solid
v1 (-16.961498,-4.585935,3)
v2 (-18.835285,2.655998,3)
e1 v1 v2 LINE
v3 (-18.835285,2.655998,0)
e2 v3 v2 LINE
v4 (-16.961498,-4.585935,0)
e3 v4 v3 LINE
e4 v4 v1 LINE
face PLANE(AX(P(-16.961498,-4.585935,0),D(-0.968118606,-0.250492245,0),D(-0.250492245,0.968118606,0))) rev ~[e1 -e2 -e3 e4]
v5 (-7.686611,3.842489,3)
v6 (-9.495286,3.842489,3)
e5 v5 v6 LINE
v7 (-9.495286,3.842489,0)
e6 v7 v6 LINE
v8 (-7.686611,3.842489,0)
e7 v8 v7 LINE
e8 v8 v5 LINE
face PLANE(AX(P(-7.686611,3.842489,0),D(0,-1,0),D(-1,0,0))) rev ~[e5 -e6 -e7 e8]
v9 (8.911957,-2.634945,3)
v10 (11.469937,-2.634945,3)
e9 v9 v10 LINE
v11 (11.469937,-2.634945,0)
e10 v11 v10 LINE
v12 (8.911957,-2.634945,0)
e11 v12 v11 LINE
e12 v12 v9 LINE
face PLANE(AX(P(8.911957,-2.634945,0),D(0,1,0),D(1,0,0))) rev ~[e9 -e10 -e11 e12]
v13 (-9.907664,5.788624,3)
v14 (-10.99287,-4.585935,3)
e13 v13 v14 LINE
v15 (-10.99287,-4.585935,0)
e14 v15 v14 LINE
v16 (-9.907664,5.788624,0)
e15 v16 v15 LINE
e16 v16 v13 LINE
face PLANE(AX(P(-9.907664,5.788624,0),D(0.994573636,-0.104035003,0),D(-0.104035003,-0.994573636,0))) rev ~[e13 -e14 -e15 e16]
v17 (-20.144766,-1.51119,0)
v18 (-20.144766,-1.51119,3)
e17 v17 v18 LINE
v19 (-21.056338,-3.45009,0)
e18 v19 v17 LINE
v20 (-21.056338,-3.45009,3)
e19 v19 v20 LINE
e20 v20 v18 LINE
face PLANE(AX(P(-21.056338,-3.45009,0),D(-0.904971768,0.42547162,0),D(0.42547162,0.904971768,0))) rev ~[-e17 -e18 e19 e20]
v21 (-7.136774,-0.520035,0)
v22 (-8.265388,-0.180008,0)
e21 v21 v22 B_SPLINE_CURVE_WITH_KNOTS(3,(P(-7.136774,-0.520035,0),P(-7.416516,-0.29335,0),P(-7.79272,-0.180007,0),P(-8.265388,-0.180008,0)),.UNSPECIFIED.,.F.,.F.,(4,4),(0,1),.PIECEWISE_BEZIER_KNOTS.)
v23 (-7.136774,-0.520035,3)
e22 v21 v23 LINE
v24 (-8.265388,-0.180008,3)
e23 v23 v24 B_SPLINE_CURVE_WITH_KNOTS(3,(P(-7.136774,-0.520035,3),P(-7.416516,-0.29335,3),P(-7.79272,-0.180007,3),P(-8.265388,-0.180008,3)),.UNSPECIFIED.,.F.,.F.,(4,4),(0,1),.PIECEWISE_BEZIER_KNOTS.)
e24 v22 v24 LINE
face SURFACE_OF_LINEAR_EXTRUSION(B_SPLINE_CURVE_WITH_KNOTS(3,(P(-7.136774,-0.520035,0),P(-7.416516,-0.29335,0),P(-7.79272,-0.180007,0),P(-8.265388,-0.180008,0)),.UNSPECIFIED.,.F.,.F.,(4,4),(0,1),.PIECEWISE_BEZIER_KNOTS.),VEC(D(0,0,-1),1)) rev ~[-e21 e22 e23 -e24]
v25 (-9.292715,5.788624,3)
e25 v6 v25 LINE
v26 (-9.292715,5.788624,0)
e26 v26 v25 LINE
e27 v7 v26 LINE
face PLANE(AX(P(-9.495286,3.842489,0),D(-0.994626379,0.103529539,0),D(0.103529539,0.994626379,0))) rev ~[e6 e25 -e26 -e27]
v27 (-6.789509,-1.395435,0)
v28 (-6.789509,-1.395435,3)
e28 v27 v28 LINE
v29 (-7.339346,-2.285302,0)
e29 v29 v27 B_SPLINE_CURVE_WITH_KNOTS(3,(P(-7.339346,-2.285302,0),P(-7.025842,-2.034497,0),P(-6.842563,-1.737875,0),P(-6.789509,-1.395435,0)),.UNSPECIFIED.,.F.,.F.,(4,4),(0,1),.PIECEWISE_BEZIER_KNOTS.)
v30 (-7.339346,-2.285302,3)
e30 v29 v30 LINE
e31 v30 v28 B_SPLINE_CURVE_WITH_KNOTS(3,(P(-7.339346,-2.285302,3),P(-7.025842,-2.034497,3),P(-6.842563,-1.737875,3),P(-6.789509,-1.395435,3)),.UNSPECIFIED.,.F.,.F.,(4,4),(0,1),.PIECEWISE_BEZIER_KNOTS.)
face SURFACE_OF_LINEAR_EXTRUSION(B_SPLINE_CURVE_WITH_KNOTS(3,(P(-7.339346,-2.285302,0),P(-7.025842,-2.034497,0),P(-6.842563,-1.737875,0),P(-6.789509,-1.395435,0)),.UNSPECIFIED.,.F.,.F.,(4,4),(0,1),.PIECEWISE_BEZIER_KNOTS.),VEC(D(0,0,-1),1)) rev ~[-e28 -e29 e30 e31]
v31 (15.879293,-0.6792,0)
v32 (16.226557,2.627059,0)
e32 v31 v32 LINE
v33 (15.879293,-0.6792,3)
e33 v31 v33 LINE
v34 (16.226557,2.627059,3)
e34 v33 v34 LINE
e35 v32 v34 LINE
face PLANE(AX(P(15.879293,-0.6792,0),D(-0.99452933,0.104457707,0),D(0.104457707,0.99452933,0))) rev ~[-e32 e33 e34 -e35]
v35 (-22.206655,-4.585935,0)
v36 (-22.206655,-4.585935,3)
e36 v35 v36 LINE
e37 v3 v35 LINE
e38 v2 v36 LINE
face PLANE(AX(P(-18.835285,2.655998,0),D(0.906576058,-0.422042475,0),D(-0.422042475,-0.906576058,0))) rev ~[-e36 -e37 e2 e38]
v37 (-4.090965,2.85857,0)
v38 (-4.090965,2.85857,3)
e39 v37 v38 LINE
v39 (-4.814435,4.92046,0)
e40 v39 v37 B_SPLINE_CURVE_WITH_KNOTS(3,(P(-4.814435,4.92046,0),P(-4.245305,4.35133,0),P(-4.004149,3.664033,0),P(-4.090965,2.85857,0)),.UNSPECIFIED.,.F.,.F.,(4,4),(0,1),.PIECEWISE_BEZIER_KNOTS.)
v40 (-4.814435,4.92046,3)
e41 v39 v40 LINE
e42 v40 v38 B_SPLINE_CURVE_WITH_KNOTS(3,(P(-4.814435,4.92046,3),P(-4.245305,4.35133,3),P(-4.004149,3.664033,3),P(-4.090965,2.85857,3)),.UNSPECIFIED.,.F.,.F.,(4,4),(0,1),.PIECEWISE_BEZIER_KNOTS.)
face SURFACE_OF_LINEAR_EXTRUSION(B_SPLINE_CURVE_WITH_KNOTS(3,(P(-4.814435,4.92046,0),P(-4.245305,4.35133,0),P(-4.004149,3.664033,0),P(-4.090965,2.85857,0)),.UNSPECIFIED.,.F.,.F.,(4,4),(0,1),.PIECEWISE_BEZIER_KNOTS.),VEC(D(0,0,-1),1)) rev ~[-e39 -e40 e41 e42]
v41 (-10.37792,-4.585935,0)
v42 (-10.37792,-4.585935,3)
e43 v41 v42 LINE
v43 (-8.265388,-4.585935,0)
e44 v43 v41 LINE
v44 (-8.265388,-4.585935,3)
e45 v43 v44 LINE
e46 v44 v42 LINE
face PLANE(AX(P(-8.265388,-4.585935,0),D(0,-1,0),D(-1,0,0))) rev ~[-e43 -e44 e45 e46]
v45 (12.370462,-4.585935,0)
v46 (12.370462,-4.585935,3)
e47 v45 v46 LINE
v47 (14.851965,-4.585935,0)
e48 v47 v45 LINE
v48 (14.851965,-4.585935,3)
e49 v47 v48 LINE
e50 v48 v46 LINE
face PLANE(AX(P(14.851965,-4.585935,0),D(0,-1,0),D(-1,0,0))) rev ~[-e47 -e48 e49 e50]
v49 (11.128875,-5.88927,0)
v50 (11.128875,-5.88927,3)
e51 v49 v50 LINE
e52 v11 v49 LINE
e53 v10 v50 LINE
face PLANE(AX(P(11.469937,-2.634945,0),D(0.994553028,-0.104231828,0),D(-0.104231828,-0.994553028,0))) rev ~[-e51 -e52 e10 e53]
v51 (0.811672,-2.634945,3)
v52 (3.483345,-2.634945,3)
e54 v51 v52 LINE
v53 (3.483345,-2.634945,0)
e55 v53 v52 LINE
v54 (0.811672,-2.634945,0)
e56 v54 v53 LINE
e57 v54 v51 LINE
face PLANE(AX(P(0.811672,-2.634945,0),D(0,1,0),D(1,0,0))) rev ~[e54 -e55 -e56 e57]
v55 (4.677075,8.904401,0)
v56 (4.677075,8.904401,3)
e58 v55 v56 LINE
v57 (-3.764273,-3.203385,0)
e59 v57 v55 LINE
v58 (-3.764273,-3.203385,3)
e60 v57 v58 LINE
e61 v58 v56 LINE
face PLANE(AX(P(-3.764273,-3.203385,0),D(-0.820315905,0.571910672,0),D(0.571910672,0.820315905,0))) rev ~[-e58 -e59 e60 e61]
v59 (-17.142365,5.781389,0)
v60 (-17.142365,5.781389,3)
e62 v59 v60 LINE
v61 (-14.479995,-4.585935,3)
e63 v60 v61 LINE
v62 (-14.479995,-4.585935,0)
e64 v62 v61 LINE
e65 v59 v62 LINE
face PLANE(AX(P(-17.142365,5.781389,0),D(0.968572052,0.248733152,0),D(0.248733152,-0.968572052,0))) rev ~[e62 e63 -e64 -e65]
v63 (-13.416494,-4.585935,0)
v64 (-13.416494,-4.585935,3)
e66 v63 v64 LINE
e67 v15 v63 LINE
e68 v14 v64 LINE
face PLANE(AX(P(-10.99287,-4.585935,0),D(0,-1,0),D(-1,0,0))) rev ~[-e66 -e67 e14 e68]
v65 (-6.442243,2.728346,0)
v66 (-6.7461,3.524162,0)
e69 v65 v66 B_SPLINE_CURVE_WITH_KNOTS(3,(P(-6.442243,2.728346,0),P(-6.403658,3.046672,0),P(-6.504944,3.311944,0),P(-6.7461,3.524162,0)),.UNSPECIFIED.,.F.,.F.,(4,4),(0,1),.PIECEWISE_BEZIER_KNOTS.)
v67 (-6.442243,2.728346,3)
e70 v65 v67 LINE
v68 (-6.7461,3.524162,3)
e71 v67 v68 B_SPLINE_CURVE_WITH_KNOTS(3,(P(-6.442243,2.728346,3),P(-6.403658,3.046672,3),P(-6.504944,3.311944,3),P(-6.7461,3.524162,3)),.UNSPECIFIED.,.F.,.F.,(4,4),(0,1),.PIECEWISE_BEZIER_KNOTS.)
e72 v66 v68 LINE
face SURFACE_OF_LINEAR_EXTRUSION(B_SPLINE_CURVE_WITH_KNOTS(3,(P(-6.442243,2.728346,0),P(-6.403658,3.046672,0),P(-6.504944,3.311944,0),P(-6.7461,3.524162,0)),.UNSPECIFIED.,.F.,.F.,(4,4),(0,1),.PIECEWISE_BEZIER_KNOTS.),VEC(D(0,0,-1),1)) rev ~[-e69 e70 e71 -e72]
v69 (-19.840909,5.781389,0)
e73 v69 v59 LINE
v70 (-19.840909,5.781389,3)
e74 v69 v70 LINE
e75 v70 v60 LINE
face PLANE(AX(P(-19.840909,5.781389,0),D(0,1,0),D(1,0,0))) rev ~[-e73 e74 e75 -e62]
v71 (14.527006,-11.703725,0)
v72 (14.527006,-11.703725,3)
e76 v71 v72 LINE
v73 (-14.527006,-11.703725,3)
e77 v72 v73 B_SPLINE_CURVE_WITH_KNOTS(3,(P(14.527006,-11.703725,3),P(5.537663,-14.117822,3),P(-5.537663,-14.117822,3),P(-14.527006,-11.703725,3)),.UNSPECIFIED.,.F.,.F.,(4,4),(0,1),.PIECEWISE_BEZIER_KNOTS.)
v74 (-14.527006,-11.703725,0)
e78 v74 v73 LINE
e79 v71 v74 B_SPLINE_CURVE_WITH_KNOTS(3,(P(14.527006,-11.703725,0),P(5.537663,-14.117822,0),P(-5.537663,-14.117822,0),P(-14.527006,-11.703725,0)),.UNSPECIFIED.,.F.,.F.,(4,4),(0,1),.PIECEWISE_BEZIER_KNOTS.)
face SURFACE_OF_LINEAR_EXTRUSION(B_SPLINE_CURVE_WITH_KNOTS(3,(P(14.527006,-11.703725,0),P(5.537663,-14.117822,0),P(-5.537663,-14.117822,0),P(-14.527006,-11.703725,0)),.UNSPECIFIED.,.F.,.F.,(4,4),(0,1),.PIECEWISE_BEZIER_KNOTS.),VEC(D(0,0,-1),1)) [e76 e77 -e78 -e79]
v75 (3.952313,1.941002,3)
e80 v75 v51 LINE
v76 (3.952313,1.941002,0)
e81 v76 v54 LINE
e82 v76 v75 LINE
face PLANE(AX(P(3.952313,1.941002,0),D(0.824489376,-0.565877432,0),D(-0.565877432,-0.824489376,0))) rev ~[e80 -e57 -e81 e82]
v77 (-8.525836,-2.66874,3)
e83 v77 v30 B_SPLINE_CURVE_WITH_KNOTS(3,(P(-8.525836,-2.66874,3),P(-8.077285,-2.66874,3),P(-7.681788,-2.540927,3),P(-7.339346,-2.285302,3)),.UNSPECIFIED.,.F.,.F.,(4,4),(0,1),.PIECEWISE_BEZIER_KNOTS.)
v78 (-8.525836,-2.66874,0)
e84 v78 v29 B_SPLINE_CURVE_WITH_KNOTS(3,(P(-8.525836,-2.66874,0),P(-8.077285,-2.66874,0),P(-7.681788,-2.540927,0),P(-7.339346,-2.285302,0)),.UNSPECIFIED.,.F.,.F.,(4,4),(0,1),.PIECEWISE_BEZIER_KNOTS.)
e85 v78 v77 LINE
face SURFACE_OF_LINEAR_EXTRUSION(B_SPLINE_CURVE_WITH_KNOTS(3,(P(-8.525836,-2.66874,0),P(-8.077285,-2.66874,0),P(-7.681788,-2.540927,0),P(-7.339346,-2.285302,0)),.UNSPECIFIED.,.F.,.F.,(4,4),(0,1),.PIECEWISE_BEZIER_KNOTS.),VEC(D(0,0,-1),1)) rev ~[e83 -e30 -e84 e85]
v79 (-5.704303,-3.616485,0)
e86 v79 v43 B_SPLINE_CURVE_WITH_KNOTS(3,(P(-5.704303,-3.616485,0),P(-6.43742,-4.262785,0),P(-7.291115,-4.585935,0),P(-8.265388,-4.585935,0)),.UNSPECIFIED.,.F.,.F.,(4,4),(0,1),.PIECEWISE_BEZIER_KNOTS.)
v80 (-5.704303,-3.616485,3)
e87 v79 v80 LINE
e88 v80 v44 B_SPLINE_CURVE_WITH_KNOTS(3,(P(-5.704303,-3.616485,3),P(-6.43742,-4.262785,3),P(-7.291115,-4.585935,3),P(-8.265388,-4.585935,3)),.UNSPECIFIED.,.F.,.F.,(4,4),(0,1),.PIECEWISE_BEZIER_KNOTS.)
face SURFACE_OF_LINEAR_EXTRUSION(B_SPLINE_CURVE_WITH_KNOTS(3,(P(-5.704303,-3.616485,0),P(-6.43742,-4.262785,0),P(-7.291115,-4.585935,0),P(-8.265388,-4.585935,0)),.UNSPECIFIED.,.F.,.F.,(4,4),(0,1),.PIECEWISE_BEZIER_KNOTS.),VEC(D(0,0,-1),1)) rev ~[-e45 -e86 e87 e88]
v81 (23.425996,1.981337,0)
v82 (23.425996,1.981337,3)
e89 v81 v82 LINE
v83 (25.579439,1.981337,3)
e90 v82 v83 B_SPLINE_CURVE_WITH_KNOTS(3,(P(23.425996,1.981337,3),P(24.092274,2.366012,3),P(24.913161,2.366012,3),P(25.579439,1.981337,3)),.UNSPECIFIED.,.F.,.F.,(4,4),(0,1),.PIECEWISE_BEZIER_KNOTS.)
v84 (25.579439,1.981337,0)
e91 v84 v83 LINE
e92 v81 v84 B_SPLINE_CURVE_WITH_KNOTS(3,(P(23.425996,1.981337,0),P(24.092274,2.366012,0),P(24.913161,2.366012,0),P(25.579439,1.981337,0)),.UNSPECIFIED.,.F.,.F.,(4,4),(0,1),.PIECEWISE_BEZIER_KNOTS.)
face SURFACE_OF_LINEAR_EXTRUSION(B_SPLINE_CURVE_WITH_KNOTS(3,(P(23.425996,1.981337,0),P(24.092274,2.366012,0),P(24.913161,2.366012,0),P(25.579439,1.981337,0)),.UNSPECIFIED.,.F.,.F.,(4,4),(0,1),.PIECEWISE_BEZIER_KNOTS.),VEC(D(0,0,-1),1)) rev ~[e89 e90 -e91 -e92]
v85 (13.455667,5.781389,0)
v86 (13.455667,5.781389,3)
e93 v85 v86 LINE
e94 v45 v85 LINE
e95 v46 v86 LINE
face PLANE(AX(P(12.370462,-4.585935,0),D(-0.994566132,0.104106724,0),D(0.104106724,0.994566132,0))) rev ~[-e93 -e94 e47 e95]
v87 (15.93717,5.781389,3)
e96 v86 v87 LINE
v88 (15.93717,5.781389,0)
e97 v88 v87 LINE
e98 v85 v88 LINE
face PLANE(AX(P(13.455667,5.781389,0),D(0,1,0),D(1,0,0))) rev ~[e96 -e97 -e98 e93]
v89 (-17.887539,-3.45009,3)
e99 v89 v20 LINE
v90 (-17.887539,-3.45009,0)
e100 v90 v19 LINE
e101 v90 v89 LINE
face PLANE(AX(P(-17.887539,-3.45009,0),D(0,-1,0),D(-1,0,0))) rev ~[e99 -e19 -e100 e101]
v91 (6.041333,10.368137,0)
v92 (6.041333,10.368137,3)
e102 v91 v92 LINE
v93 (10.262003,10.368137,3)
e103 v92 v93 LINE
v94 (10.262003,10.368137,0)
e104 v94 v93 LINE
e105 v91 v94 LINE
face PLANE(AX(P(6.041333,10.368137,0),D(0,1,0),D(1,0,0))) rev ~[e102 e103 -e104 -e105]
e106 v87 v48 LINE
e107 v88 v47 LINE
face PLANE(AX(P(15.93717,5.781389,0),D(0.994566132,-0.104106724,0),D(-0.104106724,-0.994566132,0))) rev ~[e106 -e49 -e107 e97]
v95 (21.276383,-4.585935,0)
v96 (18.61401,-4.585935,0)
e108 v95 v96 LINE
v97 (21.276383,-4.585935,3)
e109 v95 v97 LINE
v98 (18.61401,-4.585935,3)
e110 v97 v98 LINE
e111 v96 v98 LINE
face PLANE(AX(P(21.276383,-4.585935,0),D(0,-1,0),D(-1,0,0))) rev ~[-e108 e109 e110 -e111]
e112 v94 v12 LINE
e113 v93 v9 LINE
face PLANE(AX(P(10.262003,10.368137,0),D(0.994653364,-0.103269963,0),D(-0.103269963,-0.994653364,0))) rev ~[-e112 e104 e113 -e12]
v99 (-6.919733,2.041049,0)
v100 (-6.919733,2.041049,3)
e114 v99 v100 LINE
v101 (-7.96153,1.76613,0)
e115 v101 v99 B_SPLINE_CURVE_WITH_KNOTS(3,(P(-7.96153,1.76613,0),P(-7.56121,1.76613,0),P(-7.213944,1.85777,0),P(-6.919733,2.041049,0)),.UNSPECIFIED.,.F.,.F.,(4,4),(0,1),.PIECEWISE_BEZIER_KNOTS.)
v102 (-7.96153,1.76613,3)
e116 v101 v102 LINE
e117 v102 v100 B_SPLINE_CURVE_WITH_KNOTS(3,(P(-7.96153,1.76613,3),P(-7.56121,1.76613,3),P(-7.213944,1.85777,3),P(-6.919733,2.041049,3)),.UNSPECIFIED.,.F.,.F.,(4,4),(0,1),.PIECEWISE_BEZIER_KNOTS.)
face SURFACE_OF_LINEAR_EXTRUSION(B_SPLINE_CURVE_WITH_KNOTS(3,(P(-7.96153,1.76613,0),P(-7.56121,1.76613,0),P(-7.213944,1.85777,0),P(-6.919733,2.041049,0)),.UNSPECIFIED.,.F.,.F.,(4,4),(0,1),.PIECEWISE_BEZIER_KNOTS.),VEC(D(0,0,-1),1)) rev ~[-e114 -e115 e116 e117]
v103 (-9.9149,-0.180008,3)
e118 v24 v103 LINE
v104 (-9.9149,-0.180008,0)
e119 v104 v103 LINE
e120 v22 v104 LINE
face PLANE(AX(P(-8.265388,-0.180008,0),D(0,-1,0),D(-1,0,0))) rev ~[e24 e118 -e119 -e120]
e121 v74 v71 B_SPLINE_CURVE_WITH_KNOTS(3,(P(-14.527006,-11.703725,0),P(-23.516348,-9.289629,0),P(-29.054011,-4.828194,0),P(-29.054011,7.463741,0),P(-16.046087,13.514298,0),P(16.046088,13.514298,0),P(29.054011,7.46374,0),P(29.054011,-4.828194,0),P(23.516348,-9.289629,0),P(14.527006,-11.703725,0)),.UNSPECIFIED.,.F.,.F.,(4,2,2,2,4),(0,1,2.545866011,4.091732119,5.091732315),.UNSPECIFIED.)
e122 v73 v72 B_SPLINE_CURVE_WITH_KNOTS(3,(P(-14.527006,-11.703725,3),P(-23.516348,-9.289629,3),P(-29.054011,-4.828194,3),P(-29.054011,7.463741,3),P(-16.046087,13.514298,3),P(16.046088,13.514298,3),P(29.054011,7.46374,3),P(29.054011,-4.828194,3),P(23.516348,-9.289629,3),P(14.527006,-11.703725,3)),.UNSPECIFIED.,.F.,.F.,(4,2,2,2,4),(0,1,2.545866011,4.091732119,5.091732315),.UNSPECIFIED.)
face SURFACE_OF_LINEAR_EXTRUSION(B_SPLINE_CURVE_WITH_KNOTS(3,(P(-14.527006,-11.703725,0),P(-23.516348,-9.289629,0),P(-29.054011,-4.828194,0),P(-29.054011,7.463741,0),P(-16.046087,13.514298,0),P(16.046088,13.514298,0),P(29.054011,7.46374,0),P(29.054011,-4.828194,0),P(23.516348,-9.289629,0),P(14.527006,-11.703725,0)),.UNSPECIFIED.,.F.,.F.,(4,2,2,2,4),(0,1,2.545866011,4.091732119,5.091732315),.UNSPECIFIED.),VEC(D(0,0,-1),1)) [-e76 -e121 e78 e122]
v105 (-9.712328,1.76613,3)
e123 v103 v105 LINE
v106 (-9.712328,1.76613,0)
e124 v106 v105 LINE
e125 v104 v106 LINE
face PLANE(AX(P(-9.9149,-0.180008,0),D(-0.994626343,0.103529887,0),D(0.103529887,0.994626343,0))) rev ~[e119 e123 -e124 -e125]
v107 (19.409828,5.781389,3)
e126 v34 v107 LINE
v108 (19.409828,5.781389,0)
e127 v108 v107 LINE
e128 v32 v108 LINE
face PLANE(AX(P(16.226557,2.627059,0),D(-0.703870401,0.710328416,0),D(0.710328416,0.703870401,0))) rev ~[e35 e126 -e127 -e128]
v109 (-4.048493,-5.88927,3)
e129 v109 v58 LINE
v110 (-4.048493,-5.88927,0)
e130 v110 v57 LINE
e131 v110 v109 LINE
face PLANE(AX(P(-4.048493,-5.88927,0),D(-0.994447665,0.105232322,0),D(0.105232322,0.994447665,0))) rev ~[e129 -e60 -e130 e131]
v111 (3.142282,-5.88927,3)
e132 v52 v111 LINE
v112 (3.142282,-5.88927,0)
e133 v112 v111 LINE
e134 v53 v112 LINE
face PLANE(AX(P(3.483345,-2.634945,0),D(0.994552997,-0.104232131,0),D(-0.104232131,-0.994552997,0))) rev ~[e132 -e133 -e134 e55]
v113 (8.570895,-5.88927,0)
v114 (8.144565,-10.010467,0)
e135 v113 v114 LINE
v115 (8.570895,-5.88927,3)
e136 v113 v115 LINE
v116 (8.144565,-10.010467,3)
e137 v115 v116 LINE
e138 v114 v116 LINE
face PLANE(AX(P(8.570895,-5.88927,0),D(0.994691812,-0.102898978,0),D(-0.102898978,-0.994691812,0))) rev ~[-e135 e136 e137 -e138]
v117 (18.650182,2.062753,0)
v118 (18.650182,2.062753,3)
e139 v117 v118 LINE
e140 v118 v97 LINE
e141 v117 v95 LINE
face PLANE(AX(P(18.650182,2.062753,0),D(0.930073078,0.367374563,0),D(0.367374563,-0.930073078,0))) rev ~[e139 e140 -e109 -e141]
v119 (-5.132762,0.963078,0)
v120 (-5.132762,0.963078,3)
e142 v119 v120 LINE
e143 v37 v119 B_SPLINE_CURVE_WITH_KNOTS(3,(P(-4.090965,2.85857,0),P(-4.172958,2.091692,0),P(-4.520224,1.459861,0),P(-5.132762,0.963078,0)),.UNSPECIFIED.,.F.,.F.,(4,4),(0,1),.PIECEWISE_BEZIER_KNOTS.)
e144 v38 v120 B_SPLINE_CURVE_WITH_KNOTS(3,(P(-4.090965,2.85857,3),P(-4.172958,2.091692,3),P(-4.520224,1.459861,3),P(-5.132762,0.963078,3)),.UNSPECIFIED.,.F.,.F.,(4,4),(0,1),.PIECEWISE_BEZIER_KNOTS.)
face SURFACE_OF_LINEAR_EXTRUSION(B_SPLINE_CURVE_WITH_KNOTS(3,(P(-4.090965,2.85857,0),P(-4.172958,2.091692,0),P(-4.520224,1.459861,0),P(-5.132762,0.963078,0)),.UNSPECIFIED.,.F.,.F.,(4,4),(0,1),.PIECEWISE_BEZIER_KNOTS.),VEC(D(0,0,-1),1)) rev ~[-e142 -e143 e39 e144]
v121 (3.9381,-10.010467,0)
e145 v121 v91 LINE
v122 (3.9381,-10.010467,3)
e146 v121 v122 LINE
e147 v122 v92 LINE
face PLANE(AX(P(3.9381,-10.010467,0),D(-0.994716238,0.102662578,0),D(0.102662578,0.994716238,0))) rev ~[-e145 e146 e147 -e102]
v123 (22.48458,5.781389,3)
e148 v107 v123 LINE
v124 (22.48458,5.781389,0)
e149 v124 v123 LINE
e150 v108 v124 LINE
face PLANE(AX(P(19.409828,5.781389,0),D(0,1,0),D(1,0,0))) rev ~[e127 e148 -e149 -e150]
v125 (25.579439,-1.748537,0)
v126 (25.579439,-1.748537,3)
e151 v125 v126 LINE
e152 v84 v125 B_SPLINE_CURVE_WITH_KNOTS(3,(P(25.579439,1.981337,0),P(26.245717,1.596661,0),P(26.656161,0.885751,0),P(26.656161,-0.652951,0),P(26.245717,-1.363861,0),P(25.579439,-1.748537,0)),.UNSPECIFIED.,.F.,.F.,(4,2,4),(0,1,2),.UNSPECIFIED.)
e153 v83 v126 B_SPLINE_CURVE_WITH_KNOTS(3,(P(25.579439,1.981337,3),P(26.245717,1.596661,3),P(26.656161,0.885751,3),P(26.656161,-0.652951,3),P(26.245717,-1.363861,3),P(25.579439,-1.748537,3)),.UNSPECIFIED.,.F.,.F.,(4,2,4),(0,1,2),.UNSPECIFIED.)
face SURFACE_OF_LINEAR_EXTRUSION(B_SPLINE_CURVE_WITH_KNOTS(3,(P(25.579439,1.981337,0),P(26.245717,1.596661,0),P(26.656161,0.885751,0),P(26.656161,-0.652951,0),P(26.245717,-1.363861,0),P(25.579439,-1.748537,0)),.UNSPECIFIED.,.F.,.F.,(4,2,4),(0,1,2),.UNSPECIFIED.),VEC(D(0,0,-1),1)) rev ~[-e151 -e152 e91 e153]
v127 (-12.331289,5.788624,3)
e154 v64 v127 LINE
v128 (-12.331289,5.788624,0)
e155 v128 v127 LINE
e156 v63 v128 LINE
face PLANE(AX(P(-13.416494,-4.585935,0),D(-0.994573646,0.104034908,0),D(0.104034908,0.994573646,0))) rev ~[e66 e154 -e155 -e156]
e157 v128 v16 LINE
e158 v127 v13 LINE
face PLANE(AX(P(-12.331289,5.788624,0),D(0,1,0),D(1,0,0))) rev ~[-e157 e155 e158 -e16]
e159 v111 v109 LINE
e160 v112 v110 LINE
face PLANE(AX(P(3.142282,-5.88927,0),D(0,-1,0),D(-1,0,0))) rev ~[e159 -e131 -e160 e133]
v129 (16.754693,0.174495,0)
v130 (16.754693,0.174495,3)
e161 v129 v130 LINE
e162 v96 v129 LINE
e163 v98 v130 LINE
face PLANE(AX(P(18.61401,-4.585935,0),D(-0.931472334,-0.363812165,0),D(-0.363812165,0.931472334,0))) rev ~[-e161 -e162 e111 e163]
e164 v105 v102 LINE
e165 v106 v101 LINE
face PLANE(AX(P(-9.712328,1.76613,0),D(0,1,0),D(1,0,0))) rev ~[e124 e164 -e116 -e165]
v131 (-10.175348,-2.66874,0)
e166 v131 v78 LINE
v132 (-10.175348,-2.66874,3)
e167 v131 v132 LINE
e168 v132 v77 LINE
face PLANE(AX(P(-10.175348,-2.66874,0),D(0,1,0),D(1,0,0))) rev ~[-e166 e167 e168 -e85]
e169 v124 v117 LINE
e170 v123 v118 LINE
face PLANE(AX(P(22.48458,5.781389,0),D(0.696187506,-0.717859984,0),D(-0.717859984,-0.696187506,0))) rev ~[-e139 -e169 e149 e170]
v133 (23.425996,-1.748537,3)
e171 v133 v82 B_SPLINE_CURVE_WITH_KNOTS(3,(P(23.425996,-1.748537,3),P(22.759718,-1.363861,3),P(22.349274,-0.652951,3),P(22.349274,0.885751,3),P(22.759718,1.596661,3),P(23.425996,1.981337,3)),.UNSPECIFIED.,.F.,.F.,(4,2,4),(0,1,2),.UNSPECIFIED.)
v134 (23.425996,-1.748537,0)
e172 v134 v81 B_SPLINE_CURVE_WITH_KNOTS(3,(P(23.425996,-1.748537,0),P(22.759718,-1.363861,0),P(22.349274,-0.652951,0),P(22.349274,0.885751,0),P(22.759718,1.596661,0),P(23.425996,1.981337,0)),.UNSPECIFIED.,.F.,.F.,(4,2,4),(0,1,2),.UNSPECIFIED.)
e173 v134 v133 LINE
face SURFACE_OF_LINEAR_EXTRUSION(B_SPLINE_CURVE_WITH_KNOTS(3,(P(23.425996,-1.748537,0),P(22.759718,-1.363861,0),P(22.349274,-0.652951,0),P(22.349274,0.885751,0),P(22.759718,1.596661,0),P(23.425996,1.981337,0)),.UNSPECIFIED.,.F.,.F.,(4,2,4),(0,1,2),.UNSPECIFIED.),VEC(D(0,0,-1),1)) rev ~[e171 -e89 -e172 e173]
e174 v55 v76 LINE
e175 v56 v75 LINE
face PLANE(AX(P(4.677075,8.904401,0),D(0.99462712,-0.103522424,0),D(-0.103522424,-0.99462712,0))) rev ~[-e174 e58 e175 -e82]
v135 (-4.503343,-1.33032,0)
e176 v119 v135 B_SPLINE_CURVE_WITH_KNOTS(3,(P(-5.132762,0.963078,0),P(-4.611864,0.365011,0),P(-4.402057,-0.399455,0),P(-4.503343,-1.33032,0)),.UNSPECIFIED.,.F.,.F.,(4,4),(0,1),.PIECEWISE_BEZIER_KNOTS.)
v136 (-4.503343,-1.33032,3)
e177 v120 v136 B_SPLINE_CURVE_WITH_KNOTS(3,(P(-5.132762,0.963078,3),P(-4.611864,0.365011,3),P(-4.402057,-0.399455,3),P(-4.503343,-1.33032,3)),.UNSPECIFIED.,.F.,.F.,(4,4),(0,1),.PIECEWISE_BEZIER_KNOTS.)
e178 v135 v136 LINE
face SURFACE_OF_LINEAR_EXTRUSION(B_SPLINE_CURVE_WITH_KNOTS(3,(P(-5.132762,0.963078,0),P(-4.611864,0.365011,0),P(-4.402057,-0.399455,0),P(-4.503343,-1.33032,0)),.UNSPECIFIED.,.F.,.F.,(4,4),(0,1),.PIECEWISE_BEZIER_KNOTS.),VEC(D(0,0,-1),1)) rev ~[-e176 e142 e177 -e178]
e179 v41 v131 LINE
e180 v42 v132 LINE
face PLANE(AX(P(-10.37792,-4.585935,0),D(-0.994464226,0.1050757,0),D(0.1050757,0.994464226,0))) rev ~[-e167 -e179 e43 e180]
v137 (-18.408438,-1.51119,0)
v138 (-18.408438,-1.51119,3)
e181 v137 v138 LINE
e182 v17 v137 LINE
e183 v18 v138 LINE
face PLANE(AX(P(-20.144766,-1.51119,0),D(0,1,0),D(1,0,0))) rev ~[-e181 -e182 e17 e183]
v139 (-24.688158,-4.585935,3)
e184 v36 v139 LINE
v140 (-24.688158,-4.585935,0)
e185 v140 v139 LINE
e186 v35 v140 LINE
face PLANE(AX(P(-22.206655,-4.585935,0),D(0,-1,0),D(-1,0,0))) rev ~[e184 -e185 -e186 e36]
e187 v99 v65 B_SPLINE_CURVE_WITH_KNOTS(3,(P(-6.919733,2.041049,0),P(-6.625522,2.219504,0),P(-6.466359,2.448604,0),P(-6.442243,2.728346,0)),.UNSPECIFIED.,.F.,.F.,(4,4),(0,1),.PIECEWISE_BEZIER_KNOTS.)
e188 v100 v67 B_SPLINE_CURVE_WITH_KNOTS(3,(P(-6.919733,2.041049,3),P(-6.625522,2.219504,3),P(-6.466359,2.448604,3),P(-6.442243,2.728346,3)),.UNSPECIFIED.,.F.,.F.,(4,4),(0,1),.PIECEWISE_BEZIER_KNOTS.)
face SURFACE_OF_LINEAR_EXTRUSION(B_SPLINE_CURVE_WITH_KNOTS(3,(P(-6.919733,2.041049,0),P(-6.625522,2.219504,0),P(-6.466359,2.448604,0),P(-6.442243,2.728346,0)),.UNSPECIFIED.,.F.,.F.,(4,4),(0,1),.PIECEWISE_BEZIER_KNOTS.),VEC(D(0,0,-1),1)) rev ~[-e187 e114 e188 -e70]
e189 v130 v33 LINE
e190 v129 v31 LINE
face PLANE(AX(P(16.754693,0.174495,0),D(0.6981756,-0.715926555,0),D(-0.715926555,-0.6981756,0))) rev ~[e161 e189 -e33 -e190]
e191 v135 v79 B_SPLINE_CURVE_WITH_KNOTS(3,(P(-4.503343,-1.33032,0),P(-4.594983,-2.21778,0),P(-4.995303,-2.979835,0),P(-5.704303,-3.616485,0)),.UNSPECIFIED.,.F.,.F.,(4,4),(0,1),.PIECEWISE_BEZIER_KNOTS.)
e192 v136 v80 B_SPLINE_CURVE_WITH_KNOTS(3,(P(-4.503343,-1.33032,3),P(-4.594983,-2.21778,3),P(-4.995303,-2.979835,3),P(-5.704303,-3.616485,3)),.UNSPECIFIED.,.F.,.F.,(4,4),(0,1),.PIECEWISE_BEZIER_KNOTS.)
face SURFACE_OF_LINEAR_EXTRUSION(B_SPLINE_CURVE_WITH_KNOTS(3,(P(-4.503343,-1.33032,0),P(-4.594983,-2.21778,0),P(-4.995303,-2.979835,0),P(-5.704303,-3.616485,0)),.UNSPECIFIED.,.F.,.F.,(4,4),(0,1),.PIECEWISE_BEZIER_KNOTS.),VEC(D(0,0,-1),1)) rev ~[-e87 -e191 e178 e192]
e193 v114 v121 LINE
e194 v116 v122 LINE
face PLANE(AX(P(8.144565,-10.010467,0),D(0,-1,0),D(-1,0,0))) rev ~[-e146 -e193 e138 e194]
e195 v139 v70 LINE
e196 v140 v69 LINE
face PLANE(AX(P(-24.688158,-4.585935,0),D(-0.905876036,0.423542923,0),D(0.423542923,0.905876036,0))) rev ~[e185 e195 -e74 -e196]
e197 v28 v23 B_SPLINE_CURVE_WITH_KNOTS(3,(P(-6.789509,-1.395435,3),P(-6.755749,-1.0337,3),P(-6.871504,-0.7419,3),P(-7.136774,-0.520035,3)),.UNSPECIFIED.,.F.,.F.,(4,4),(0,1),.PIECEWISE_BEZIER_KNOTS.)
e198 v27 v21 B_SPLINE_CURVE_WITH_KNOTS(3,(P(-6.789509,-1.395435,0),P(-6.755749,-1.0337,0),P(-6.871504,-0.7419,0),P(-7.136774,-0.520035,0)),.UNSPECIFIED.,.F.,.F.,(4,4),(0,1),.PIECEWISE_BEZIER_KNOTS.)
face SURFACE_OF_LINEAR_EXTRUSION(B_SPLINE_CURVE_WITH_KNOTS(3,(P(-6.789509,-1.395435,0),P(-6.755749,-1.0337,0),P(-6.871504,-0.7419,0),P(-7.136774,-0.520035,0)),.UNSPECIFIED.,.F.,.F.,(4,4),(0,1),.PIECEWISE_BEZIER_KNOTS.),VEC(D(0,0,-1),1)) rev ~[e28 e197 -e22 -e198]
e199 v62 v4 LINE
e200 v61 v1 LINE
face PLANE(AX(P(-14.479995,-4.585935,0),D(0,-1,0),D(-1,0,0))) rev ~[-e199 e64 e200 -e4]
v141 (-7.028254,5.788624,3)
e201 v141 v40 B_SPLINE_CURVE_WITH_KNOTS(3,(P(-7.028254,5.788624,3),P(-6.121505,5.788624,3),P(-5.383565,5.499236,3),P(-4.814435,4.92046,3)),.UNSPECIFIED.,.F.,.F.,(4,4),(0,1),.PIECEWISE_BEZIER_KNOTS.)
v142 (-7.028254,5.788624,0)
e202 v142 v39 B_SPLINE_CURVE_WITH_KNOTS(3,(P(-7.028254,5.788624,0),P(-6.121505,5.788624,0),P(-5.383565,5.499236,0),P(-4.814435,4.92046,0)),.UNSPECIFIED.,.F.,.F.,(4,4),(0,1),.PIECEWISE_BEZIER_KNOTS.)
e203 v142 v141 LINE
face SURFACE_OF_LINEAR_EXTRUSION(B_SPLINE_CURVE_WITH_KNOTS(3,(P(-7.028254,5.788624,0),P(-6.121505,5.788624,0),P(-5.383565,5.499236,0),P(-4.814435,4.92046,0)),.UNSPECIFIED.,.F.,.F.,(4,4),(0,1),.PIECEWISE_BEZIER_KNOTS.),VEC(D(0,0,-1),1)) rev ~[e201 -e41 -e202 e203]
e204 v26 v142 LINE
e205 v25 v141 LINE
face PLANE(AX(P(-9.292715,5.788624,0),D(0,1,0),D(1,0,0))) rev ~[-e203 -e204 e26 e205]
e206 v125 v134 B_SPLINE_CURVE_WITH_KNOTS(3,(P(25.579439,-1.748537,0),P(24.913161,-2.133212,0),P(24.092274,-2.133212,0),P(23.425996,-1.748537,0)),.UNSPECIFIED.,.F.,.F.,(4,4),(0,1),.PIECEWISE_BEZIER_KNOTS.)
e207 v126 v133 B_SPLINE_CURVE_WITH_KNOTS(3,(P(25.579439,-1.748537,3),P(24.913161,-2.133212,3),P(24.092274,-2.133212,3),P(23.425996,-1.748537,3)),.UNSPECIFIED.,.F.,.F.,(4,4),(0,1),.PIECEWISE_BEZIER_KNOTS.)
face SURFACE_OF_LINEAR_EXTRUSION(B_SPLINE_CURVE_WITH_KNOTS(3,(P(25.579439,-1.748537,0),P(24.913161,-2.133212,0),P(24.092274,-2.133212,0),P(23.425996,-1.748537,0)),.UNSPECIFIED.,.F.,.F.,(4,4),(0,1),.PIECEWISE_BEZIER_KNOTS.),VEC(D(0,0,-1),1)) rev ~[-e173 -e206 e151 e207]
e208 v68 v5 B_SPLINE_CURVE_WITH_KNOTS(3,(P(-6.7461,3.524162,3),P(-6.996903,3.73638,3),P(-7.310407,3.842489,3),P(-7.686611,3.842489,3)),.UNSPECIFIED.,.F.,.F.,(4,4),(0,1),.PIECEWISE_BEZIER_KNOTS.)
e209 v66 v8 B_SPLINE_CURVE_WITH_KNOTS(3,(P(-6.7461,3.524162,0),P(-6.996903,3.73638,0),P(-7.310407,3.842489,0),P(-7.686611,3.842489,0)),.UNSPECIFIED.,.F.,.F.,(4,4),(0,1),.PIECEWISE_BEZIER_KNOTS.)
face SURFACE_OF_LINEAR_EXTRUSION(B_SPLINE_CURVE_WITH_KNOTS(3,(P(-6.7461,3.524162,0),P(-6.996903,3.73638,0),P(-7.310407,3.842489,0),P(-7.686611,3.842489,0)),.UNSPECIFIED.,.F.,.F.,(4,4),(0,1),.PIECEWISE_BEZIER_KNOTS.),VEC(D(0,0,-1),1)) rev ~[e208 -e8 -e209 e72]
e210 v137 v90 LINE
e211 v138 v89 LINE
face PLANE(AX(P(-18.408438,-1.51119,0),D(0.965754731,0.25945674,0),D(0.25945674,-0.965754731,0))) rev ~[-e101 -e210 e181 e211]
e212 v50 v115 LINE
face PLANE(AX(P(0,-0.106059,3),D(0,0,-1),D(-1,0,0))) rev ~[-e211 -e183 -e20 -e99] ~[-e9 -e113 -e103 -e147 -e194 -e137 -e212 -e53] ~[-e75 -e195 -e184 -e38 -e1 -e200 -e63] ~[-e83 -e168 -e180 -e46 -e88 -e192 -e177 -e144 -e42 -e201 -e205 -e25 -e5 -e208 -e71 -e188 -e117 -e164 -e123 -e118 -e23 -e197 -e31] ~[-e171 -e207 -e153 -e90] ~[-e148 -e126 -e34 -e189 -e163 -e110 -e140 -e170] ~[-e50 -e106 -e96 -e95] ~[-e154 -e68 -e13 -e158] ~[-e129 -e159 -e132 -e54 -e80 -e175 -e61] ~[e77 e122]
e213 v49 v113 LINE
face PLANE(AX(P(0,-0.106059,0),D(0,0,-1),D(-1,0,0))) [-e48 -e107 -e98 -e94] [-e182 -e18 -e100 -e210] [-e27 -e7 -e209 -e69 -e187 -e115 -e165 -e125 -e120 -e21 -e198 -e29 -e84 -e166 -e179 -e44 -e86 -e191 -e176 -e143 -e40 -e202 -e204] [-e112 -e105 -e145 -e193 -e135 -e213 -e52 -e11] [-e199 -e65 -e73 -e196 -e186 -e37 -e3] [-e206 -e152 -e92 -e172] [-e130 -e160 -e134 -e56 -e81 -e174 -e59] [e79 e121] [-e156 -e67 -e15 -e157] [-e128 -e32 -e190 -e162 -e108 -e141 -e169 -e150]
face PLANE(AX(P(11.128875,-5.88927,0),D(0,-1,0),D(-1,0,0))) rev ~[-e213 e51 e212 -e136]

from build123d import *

# Parameters (mm, degrees)
F1_DEPTH = 3


with BuildPart() as f1:
    # F0 (on Top) → F1 (new body)
    with BuildSketch(Plane.XY):
        with BuildLine():
            add(Edge.make_bspline(
                [(29.054011, 0), (29.054011, -4.828194), (23.516348, -9.289629), (14.527006, -11.703725)],
                knots=[0, 0, 0, 0, 1, 1, 1, 1], degree=3))
            add(Edge.make_bspline(
                [(0, 13.514298), (16.046088, 13.514298), (29.054011, 7.46374), (29.054011, 0)],
                knots=[0, 0, 0, 0, 1, 1, 1, 1], degree=3))
            add(Edge.make_bspline(
                [(-29.054011, 0), (-29.054011, 7.463741), (-16.046087, 13.514298), (0, 13.514298)],
                knots=[0, 0, 0, 0, 1, 1, 1, 1], degree=3))
            add(Edge.make_bspline(
                [(-14.527006, -11.703725), (-23.516348, -9.289629), (-29.054011, -4.828194), (-29.054011, 0)],
                knots=[0, 0, 0, 0, 1, 1, 1, 1], degree=3))
            add(Edge.make_bspline(
                [(14.527006, -11.703725), (5.537663, -14.117822), (-5.537663, -14.117822), (-14.527006, -11.703725)],
                knots=[0, 0, 0, 0, 1, 1, 1, 1], degree=3))
        make_face()
        Polygon((-17.887539, -3.45009), (-21.056338, -3.45009), (-20.144766, -1.51119), (-18.408438, -1.51119), align=None, mode=Mode.SUBTRACT)
        Polygon((-18.835285, 2.655998), (-22.206655, -4.585935), (-24.688158, -4.585935), (-19.840909, 5.781389), (-17.142365, 5.781389), (-14.479995, -4.585935), (-16.961498, -4.585935), align=None, mode=Mode.SUBTRACT)
        Polygon((-9.907664, 5.788624), (-10.99287, -4.585935), (-13.416494, -4.585935), (-12.331289, 5.788624), align=None, mode=Mode.SUBTRACT)
        with BuildLine():
            Line((-9.9149, -0.180008), (-9.712328, 1.76613))
            Line((-9.712328, 1.76613), (-7.96153, 1.76613))
            add(Edge.make_bspline(
                [(-7.96153, 1.76613), (-7.56121, 1.76613), (-7.213944, 1.85777), (-6.919733, 2.041049)],
                knots=[0, 0, 0, 0, 1, 1, 1, 1], degree=3))
            add(Edge.make_bspline(
                [(-6.919733, 2.041049), (-6.625522, 2.219504), (-6.466359, 2.448604), (-6.442243, 2.728346)],
                knots=[0, 0, 0, 0, 1, 1, 1, 1], degree=3))
            add(Edge.make_bspline(
                [(-6.442243, 2.728346), (-6.403658, 3.046672), (-6.504944, 3.311944), (-6.7461, 3.524162)],
                knots=[0, 0, 0, 0, 1, 1, 1, 1], degree=3))
            add(Edge.make_bspline(
                [(-6.7461, 3.524162), (-6.996903, 3.73638), (-7.310407, 3.842489), (-7.686611, 3.842489)],
                knots=[0, 0, 0, 0, 1, 1, 1, 1], degree=3))
            Line((-7.686611, 3.842489), (-9.495286, 3.842489))
            Line((-9.495286, 3.842489), (-9.292715, 5.788624))
            Line((-9.292715, 5.788624), (-7.028254, 5.788624))
            add(Edge.make_bspline(
                [(-7.028254, 5.788624), (-6.121505, 5.788624), (-5.383565, 5.499236), (-4.814435, 4.92046)],
                knots=[0, 0, 0, 0, 1, 1, 1, 1], degree=3))
            add(Edge.make_bspline(
                [(-4.814435, 4.92046), (-4.245305, 4.35133), (-4.004149, 3.664033), (-4.090965, 2.85857)],
                knots=[0, 0, 0, 0, 1, 1, 1, 1], degree=3))
            add(Edge.make_bspline(
                [(-4.090965, 2.85857), (-4.172958, 2.091692), (-4.520224, 1.459861), (-5.132762, 0.963078)],
                knots=[0, 0, 0, 0, 1, 1, 1, 1], degree=3))
            add(Edge.make_bspline(
                [(-5.132762, 0.963078), (-4.611864, 0.365011), (-4.402057, -0.399455), (-4.503343, -1.33032)],
                knots=[0, 0, 0, 0, 1, 1, 1, 1], degree=3))
            add(Edge.make_bspline(
                [(-4.503343, -1.33032), (-4.594983, -2.21778), (-4.995303, -2.979835), (-5.704303, -3.616485)],
                knots=[0, 0, 0, 0, 1, 1, 1, 1], degree=3))
            add(Edge.make_bspline(
                [(-5.704303, -3.616485), (-6.43742, -4.262785), (-7.291115, -4.585935), (-8.265388, -4.585935)],
                knots=[0, 0, 0, 0, 1, 1, 1, 1], degree=3))
            Line((-8.265388, -4.585935), (-10.37792, -4.585935))
            Line((-10.37792, -4.585935), (-10.175348, -2.66874))
            Line((-10.175348, -2.66874), (-8.525836, -2.66874))
            add(Edge.make_bspline(
                [(-8.525836, -2.66874), (-8.077285, -2.66874), (-7.681788, -2.540927), (-7.339346, -2.285302)],
                knots=[0, 0, 0, 0, 1, 1, 1, 1], degree=3))
            add(Edge.make_bspline(
                [(-7.339346, -2.285302), (-7.025842, -2.034497), (-6.842563, -1.737875), (-6.789509, -1.395435)],
                knots=[0, 0, 0, 0, 1, 1, 1, 1], degree=3))
            add(Edge.make_bspline(
                [(-6.789509, -1.395435), (-6.755749, -1.0337), (-6.871504, -0.7419), (-7.136774, -0.520035)],
                knots=[0, 0, 0, 0, 1, 1, 1, 1], degree=3))
            add(Edge.make_bspline(
                [(-7.136774, -0.520035), (-7.416516, -0.29335), (-7.79272, -0.180007), (-8.265388, -0.180008)],
                knots=[0, 0, 0, 0, 1, 1, 1, 1], degree=3))
            Line((-8.265388, -0.180008), (-9.9149, -0.180008))
        make_face(mode=Mode.SUBTRACT)
        Polygon((4.677075, 8.904401), (3.952313, 1.941002), (0.811672, -2.634945), (3.483345, -2.634945), (3.142282, -5.88927), (-4.048493, -5.88927), (-3.764273, -3.203385), align=None, mode=Mode.SUBTRACT)
        Polygon((3.9381, -10.010467), (6.041333, 10.368137), (10.262003, 10.368137), (8.911957, -2.634945), (11.469937, -2.634945), (11.128875, -5.88927), (8.570895, -5.88927), (8.144565, -10.010467), align=None, mode=Mode.SUBTRACT)
        Polygon((15.93717, 5.781389), (14.851965, -4.585935), (12.370462, -4.585935), (13.455667, 5.781389), align=None, mode=Mode.SUBTRACT)
        Polygon((15.879293, -0.6792), (16.226557, 2.627059), (19.409828, 5.781389), (22.48458, 5.781389), (18.650182, 2.062753), (21.276383, -4.585935), (18.61401, -4.585935), (16.754693, 0.174495), align=None, mode=Mode.SUBTRACT)
        with BuildLine():
            add(Edge.make_bspline(
                [(25.579439, 1.981337), (26.245717, 1.596661), (26.656161, 0.885751), (26.656161, 0.1164)],
                knots=[0, 0, 0, 0, 1, 1, 1, 1], degree=3))
            add(Edge.make_bspline(
                [(26.656161, 0.1164), (26.656161, -0.652951), (26.245717, -1.363861), (25.579439, -1.748537)],
                knots=[0, 0, 0, 0, 1, 1, 1, 1], degree=3))
            add(Edge.make_bspline(
                [(25.579439, -1.748537), (24.913161, -2.133212), (24.092274, -2.133212), (23.425996, -1.748537)],
                knots=[0, 0, 0, 0, 1, 1, 1, 1], degree=3))
            add(Edge.make_bspline(
                [(23.425996, -1.748537), (22.759718, -1.363861), (22.349274, -0.652951), (22.349274, 0.1164)],
                knots=[0, 0, 0, 0, 1, 1, 1, 1], degree=3))
            add(Edge.make_bspline(
                [(22.349274, 0.1164), (22.349274, 0.885751), (22.759718, 1.596661), (23.425996, 1.981337)],
                knots=[0, 0, 0, 0, 1, 1, 1, 1], degree=3))
            add(Edge.make_bspline(
                [(23.425996, 1.981337), (24.092274, 2.366012), (24.913161, 2.366012), (25.579439, 1.981337)],
                knots=[0, 0, 0, 0, 1, 1, 1, 1], degree=3))
        make_face(mode=Mode.SUBTRACT)
    extrude(amount=F1_DEPTH)


solid = f1.part
